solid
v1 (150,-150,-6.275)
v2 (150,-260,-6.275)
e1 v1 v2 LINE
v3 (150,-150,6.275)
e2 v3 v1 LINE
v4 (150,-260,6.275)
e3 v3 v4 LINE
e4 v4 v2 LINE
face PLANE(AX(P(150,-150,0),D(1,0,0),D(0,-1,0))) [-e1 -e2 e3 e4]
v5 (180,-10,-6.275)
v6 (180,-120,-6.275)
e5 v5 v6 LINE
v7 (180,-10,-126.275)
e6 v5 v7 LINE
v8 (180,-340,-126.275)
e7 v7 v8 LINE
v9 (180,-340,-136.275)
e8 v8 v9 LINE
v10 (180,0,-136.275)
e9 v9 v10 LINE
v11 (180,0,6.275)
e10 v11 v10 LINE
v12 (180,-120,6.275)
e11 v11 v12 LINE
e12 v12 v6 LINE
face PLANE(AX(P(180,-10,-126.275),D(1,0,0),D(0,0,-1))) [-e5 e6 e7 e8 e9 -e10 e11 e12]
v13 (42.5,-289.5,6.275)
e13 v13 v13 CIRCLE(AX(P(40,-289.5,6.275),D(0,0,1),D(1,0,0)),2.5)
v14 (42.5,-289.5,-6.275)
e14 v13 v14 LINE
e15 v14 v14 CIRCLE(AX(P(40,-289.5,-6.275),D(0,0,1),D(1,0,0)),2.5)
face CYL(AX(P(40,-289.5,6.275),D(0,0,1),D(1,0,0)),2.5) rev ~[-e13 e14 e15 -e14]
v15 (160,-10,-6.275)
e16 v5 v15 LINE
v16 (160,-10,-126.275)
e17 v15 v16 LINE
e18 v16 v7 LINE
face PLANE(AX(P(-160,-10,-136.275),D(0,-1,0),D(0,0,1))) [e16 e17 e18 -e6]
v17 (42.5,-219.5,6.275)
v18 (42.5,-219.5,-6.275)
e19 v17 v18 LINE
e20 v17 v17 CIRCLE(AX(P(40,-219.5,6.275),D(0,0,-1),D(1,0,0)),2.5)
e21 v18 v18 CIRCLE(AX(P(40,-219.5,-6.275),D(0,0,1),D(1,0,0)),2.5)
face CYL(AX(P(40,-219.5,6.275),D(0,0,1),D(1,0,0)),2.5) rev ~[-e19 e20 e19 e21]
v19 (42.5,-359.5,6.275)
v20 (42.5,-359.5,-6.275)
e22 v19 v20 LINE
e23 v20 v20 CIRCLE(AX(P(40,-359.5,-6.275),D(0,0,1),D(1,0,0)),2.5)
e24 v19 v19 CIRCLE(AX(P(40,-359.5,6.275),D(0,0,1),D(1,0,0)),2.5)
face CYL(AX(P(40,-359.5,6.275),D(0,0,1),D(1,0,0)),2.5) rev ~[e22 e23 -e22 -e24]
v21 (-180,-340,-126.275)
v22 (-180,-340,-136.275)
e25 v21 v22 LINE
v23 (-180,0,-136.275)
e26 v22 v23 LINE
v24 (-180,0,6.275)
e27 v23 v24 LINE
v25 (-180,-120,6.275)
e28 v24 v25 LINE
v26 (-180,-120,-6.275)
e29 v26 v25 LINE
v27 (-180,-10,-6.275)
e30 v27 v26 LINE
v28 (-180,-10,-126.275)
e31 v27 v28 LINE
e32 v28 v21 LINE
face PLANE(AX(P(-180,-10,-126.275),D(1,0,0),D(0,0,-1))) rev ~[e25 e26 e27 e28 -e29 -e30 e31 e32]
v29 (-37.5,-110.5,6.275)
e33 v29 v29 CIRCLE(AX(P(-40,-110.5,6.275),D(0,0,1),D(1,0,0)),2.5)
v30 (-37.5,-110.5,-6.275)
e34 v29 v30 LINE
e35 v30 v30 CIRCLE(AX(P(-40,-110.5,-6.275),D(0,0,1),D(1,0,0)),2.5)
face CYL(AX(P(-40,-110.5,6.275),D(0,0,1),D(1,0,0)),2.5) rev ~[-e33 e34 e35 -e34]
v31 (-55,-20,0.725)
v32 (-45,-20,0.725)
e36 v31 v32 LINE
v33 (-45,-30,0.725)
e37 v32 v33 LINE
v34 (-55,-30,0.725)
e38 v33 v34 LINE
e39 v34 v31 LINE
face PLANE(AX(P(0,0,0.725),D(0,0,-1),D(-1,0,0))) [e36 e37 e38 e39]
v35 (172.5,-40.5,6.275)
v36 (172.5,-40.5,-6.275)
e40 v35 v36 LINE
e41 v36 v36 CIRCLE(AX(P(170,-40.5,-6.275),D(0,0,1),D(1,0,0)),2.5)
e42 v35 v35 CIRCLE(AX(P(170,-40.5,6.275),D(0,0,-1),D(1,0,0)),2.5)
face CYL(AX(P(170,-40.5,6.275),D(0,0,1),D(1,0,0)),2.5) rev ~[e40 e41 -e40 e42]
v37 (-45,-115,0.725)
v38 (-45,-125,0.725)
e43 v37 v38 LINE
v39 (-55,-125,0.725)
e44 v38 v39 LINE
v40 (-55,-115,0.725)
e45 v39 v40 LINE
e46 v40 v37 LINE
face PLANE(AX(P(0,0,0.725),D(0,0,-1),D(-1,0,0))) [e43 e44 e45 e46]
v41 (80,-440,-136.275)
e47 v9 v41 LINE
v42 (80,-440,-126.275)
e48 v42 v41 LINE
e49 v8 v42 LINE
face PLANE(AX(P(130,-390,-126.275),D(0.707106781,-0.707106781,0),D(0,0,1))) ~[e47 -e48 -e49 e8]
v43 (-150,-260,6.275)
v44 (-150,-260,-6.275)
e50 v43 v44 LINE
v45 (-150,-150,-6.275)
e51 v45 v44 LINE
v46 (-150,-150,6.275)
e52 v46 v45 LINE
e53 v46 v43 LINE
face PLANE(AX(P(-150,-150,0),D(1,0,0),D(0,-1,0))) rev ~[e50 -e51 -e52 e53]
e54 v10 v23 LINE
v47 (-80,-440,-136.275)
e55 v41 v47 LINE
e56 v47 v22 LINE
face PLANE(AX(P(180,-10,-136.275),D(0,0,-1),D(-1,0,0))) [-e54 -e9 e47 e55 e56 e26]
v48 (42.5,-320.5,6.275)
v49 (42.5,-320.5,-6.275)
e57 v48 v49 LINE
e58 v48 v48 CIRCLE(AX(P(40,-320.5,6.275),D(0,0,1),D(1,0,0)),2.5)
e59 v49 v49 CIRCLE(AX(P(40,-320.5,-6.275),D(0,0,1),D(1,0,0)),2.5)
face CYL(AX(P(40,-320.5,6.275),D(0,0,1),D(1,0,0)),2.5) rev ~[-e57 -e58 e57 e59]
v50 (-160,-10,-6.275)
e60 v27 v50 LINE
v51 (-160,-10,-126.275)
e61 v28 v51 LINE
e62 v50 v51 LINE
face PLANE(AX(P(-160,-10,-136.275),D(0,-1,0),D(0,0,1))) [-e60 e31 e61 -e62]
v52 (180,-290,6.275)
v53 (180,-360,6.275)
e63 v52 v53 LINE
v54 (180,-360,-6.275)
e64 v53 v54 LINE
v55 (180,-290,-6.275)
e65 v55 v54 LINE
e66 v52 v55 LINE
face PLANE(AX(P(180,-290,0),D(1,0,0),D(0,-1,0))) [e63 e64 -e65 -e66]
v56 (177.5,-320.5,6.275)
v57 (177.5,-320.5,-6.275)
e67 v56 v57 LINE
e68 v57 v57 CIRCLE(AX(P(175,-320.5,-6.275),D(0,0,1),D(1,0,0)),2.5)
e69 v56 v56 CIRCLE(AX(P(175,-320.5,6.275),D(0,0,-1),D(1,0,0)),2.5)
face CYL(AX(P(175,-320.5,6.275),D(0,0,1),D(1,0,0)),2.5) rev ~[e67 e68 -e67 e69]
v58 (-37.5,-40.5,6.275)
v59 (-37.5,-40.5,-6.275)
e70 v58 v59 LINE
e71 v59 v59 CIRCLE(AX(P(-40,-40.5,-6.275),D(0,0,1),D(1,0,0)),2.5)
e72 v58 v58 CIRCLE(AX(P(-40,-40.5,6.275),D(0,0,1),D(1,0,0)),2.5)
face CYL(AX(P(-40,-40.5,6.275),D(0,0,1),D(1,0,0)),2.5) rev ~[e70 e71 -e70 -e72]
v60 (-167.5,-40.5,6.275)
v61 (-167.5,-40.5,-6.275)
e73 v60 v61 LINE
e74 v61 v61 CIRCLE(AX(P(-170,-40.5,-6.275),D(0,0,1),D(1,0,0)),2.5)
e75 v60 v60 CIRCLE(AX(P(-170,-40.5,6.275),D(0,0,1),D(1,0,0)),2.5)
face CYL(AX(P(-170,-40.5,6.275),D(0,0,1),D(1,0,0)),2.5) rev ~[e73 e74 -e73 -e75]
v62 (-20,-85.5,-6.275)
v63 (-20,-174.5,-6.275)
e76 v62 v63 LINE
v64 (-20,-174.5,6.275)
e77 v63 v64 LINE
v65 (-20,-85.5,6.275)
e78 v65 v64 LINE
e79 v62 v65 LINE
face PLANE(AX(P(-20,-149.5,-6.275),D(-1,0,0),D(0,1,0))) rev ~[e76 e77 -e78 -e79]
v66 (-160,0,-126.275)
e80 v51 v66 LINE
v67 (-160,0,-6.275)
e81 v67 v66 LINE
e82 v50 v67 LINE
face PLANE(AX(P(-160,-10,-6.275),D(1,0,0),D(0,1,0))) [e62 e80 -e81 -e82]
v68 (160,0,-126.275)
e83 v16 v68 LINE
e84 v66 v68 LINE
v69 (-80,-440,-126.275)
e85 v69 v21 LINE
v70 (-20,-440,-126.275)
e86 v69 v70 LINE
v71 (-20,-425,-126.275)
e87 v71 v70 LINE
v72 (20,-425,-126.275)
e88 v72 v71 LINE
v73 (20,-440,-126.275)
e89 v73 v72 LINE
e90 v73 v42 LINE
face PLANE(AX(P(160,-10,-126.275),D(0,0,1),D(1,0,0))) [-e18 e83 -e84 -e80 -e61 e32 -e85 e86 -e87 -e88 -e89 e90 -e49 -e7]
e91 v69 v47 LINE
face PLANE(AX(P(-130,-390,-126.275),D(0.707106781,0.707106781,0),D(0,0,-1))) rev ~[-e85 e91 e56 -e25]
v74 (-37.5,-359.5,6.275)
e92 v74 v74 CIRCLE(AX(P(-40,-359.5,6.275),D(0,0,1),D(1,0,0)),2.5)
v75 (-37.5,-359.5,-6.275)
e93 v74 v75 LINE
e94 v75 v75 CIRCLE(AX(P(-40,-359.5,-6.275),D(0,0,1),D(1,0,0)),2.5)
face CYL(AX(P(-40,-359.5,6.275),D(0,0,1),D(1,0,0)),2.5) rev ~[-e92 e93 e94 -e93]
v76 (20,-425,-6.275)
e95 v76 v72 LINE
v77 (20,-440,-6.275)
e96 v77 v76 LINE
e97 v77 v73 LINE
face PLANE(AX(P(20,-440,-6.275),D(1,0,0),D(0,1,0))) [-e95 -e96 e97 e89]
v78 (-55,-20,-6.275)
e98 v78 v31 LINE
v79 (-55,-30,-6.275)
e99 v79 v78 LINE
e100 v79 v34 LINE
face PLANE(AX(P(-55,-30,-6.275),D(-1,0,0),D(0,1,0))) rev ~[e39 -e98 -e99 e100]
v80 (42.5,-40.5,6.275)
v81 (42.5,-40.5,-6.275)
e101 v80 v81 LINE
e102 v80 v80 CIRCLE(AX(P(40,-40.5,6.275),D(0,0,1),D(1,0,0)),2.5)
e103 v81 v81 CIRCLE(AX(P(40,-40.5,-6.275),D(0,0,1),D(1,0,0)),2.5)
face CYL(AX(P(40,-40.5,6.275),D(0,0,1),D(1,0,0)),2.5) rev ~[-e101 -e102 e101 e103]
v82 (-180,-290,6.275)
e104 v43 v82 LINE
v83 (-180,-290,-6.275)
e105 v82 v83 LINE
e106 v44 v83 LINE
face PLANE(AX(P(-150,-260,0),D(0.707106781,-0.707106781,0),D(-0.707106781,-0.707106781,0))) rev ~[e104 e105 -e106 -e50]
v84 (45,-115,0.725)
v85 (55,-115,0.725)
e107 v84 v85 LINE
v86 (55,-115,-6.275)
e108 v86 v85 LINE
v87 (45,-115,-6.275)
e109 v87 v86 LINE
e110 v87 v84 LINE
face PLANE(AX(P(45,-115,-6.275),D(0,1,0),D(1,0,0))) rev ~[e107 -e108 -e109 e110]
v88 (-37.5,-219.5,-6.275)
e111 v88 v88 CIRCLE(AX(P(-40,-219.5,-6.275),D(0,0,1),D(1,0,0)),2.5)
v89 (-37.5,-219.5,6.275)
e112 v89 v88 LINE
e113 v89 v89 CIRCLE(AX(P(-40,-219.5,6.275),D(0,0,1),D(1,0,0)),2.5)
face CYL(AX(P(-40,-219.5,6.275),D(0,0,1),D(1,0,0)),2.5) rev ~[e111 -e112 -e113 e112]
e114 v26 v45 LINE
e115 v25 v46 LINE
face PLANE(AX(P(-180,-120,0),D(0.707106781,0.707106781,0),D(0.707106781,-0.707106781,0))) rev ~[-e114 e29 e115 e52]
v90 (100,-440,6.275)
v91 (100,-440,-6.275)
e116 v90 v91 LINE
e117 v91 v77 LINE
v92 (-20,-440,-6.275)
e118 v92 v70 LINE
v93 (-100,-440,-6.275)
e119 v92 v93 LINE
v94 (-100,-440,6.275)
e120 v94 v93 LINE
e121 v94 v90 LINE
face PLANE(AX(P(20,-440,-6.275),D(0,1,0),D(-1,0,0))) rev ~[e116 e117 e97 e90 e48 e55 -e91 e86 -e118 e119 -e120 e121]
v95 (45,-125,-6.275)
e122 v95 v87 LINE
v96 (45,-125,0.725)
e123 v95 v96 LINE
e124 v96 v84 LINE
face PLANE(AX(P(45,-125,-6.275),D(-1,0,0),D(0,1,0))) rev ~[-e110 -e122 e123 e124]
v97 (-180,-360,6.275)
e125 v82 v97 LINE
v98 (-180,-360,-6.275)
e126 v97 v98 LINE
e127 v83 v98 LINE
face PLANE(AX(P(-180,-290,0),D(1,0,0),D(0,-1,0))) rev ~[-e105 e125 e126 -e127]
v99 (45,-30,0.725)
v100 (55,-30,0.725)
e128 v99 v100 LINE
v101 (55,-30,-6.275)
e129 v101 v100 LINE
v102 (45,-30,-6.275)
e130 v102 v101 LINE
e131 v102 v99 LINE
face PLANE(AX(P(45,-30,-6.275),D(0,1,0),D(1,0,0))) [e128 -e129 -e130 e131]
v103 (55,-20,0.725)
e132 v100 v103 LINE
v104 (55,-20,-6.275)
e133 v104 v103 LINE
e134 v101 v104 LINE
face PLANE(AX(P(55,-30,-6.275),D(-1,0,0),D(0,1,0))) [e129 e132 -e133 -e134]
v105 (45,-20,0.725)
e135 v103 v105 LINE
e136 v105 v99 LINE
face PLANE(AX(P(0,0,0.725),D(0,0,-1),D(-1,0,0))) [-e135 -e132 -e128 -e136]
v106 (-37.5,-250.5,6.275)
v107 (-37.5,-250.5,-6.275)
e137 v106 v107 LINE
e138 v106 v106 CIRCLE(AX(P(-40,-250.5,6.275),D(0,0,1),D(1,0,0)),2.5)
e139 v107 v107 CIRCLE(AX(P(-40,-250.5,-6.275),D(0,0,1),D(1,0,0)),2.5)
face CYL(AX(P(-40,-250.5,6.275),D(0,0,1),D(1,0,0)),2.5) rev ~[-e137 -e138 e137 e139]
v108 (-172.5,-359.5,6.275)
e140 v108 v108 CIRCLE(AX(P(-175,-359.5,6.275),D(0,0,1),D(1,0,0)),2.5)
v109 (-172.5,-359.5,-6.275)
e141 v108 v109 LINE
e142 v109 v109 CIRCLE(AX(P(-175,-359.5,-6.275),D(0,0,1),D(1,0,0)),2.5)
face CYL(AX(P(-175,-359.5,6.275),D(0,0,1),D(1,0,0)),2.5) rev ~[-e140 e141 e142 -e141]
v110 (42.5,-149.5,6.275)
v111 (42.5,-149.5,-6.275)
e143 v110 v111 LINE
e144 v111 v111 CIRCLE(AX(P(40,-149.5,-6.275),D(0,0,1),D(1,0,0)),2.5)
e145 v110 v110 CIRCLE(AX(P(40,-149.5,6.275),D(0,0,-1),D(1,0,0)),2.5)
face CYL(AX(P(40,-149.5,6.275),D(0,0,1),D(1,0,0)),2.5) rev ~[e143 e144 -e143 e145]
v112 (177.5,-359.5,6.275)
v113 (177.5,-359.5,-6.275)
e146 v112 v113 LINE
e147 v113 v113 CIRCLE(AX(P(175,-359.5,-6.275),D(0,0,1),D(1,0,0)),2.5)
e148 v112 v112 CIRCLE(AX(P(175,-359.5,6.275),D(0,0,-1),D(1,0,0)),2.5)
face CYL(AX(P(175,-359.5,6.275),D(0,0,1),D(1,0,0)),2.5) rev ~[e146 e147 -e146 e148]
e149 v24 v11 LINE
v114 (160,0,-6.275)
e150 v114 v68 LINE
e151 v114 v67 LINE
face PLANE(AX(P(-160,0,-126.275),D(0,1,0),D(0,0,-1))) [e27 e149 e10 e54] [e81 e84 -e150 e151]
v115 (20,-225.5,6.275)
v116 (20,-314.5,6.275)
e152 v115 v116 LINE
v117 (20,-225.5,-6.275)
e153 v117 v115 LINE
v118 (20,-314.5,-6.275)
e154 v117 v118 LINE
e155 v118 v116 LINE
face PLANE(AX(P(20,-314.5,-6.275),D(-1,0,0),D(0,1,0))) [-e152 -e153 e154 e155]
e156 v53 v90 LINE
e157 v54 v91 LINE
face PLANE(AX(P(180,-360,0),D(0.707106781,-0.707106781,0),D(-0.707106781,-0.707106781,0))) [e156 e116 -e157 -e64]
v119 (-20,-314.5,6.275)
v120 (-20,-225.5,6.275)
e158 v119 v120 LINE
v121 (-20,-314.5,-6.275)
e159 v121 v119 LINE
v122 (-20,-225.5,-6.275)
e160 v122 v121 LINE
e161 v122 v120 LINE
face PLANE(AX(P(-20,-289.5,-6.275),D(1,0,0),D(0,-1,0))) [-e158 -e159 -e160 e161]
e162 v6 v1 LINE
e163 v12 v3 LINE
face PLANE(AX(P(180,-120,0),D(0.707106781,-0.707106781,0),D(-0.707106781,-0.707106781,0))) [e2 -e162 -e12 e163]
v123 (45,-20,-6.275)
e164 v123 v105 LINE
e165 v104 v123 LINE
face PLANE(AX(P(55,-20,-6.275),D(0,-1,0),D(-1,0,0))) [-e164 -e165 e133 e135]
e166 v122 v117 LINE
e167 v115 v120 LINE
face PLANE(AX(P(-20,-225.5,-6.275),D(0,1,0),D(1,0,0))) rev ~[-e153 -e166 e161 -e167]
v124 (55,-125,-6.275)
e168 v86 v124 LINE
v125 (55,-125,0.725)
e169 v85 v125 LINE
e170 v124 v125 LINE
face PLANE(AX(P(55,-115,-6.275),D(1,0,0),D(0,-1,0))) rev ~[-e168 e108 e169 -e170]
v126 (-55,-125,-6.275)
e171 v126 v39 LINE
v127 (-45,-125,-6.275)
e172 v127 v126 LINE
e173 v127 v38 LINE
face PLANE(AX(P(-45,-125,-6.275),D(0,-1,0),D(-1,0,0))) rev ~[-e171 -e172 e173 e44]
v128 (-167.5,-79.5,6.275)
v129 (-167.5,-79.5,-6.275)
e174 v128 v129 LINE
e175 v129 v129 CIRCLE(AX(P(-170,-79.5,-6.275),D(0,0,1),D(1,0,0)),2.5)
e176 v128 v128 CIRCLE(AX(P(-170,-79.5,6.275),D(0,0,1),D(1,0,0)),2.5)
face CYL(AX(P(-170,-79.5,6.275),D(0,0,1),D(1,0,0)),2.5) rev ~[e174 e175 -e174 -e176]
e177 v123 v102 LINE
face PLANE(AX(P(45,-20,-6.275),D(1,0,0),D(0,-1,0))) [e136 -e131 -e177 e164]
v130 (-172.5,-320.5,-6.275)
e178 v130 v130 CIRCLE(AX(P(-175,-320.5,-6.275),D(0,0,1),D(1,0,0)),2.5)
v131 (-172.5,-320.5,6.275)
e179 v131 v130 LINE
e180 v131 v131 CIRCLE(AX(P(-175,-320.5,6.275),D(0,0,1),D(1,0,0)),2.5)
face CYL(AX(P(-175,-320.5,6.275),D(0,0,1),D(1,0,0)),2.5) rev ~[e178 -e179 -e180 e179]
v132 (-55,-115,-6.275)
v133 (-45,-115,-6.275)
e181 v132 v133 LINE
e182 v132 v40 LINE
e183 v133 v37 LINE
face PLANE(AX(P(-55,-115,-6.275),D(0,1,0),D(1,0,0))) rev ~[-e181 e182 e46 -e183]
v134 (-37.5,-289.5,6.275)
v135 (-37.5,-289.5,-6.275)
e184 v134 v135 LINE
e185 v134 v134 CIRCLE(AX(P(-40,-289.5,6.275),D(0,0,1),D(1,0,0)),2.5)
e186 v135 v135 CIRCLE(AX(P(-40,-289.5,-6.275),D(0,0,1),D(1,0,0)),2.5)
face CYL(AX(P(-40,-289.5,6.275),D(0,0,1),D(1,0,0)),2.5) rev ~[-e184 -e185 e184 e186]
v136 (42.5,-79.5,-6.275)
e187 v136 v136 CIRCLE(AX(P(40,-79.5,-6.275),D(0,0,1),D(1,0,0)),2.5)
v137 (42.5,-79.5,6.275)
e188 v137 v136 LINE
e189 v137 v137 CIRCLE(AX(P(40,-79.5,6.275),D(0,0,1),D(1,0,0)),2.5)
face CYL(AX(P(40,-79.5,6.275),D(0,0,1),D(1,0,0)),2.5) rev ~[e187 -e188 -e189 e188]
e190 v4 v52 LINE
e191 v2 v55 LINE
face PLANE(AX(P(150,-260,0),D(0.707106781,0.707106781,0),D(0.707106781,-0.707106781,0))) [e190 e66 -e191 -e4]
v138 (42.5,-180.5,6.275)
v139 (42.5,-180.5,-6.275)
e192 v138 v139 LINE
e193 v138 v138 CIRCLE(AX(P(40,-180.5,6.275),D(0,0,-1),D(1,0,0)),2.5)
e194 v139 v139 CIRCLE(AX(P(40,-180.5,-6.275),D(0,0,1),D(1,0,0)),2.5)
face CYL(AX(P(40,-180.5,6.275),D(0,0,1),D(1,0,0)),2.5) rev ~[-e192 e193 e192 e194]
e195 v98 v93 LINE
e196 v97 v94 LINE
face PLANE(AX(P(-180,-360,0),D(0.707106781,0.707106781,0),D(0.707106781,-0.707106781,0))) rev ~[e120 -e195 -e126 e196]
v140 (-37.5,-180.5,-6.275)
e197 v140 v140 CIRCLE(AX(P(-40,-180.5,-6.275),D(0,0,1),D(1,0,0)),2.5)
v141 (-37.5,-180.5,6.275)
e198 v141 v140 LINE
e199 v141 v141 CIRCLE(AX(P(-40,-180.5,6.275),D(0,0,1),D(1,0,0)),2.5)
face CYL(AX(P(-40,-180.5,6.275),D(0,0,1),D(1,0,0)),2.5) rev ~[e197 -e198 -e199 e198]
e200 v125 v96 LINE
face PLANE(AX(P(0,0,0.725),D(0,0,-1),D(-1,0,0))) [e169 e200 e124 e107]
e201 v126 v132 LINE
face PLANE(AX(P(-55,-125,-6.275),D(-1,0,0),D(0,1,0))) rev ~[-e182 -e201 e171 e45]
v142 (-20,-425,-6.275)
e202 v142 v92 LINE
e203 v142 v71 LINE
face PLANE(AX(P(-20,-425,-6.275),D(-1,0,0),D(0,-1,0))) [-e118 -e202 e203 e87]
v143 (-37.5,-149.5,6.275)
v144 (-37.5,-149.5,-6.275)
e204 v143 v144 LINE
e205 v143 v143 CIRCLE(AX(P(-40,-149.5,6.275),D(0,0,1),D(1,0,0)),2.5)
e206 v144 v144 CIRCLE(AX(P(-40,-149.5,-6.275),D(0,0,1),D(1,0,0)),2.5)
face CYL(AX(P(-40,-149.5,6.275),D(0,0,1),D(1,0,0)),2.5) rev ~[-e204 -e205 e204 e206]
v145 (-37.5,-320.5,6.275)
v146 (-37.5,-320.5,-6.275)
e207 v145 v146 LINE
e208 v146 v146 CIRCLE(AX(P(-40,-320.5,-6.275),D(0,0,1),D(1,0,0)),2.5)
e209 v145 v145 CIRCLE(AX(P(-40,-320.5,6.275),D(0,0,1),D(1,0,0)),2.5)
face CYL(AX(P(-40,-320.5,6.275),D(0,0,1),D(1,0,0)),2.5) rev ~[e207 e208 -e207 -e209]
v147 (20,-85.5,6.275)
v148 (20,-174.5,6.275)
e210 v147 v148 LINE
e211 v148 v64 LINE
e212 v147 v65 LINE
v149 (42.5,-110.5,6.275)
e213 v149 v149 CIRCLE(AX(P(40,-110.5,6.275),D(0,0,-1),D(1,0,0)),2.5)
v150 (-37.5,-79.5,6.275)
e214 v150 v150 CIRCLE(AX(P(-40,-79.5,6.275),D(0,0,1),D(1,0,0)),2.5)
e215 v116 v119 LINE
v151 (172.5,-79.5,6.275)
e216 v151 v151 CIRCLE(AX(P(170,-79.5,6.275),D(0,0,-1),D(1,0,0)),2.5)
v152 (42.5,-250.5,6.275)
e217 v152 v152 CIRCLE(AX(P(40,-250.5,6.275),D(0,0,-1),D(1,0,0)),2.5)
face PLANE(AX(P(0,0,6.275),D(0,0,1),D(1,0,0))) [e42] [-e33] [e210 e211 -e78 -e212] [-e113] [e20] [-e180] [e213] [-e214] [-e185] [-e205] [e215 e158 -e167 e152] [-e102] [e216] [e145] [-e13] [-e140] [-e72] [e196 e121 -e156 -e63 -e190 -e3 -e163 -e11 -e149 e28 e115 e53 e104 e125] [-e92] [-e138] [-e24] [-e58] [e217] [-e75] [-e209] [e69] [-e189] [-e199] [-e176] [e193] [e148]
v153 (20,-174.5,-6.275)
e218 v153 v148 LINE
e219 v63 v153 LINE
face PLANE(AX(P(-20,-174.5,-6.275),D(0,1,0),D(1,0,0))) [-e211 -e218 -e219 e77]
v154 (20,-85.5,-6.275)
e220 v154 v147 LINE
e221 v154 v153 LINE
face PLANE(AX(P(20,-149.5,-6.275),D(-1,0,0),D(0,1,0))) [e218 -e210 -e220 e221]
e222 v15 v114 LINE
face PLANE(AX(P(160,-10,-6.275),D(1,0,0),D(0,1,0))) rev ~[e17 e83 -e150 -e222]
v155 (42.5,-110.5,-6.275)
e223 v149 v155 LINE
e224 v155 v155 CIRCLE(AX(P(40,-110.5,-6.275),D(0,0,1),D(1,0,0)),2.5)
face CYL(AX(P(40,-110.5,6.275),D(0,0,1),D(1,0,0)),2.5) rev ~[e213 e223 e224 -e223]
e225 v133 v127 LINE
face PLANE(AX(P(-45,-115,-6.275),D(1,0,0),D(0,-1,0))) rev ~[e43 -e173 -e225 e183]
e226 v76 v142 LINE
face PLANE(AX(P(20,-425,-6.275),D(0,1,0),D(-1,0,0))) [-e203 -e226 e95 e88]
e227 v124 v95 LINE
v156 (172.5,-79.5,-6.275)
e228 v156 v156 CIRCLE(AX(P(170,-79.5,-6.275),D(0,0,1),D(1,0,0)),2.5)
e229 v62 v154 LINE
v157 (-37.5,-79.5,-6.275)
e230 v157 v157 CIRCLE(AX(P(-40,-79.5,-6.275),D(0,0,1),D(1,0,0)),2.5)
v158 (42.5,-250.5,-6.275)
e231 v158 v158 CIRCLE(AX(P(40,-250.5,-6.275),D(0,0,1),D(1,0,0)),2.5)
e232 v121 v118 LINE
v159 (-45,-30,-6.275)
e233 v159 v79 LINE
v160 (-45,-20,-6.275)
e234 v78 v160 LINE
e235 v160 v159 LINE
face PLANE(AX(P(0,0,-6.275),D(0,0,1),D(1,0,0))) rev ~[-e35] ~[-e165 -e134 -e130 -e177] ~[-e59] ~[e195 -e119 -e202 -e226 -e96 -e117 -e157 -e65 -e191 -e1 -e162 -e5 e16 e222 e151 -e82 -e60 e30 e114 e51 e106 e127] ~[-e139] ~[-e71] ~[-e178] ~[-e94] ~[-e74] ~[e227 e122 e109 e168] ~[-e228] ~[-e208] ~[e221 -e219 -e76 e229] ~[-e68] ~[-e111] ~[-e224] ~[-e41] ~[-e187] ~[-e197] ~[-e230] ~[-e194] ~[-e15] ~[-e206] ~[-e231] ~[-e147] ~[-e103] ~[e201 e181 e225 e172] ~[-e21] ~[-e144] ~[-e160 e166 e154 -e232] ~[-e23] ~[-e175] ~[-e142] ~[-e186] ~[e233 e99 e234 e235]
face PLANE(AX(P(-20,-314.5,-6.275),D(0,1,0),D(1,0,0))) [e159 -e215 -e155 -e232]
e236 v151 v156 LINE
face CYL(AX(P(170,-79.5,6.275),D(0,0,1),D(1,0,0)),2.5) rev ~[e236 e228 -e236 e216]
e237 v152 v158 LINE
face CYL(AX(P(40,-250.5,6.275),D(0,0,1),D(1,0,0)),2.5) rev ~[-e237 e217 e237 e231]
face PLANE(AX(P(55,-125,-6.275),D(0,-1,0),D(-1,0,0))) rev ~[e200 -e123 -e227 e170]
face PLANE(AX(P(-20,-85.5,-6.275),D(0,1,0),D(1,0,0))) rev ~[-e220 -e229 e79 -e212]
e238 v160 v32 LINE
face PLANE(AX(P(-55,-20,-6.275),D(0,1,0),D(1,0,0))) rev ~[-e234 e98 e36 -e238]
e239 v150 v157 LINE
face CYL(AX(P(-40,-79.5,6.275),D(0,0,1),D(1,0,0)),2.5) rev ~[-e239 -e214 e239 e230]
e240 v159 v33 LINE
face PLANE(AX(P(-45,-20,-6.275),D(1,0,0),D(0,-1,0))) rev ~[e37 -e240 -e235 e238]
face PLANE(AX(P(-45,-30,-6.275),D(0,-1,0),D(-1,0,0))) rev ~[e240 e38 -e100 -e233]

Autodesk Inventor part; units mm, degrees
ref_plane "YZ Plane" through (0, 0, 0) normal (1, 0, 0) x (0, 1, 0)
ref_plane "XZ Plane" through (0, 0, 0) normal (0, 1, 0) x (-1, 0, 0)
ref_plane "XY Plane" through (0, 0, 0) normal (0, 0, 1) x (1, 0, 0)
sketch "Boceto1" plane through (0, 0, 0) normal (0, 0, 1) x (1, 0, 0)
  line L0 (0, 0) -> (-180, 0)
  line L1 (-180, 0) -> (-180, -120)
  line L2 (-180, -120) -> (-150, -150)
  line L3 (-150, -150) -> (-150, -260)
  line L4 (-150, -260) -> (-180, -290)
  line L5 (-180, -290) -> (-180, -360)
  line L6 (-180, -360) -> (-100, -440)
  line L7 (-100, -440) -> (0, -440)
  line L8 (0, -440) -> (0, 0) construction
  line L9 (0, 0) -> (180, 0)
  line L10 (180, 0) -> (180, -120)
  line L11 (180, -120) -> (150, -150)
  line L12 (150, -150) -> (150, -260)
  line L13 (150, -260) -> (180, -290)
  line L14 (180, -290) -> (180, -360)
  line L15 (180, -360) -> (100, -440)
  line L16 (100, -440) -> (0, -440)
  dimension "d0" = 120
  dimension "d1" = 70
  dimension "d2" = 110
  dimension "d3" = 180
  dimension "d8" = 100
  dimension "d9" = 80
  dimension "d13" = 150
  dimension "d17" = 80
  dimension "d18" = 30
  dimension "d19" = 30
extrude "Extrusión1" add sketch "Boceto1" along normal mid plane 12.55
sketch "Boceto2" plane through (0, 0, 6.275) normal (0, 0, 1) x (1, 0, 0)
  line L0 (0, 0) -> (0, -440)
  line L1 (-100, -440) -> (100, -440) projected
  line L2 (180, 0) -> (180, -120) projected
  line L3 (180, -120) -> (-179.9429, -120)
  line L4 (180, -120) -> (150, -150) projected
  line L5 (180, -120) -> (180, -60)
  line L6 (180, -60) -> (0, -60)
  line L7 (0, -60) -> (15, -60)
  line L8 (15, -60) -> (-15, -60)
  line L9 (180, -60) -> (170, -60)
  line L10 (170, -60) -> (170, -79.5)
  line L11 (170, -79.5) -> (170, -40.5)
  circle A0 centre (170, -40.5) radius 2.5
  circle A1 centre (170, -79.5) radius 2.5
  circle A2 centre (-170, -40.5) radius 2.5
  circle A3 centre (-170, -79.5) radius 2.5
  dimension "d20" = 60
  dimension "d22" = 30
  dimension "d23" = 10
  dimension "d25" = 39
  dimension "d26" = 5
extrude "Extrusión2" cut sketch "Boceto2" against normal blind 14.75 contours A1 | A0 | A2 | A3
sketch "Boceto3" plane through (0, 0, 6.275) normal (0, 0, 1) x (1, 0, 0)
  circle A0 centre (170, -40.5) radius 2.5 projected
  line L0 (170, -40.5) -> (170, -60)
  line L1 (170, -60) -> (0, -60)
  line L2 (0, -60) -> (0, -130)
  line L3 (0, -130) -> (40, -130)
  line L4 (40, -130) -> (-40, -130)
  line L5 (40, -130) -> (40, -110.5)
  circle A1 centre (40, -110.5) radius 2.5
  circle A2 centre (40, -149.5) radius 2.5
  circle A3 centre (-40, -110.5) radius 2.5
  circle A4 centre (-40, -149.5) radius 2.5
  line L6 (40, -130) -> (40, -200)
  line L7 (40, -200) -> (40, -165)
  line L8 (40, -165) -> (-88.7042, -165)
  circle A5 centre (40, -219.5) radius 2.5
  circle A6 centre (40, -180.5) radius 2.5
  circle A7 centre (-40, -219.5) radius 2.5
  circle A8 centre (-40, -180.5) radius 2.5
  line L9 (40, -180.5) -> (40, -200)
  line L10 (40, -200) -> (40, -270)
  line L11 (40, -270) -> (-42.5, -270)
  line L12 (40, -270) -> (40, -235)
  line L13 (40, -235) -> (-24.3521, -235)
  circle A9 centre (40, -359.5) radius 2.5
  circle A10 centre (40, -320.5) radius 2.5
  circle A11 centre (-40, -359.5) radius 2.5
  circle A12 centre (-40, -320.5) radius 2.5
  circle A13 centre (40, -250.5) radius 2.5
  circle A14 centre (40, -289.5) radius 2.5
  circle A15 centre (-40, -250.5) radius 2.5
  circle A16 centre (-40, -289.5) radius 2.5
  line L14 (40, -165) -> (40, -95)
  line L15 (40, -95) -> (-4.3592, -95)
  circle A17 centre (40, -79.5) radius 2.5
  circle A18 centre (40, -40.5) radius 2.5
  circle A19 centre (-40, -79.5) radius 2.5
  circle A20 centre (-40, -40.5) radius 2.5
  point P0 (0, 0)
  dimension "d29" = 19.5
  dimension "d30" = 70
  dimension "d31" = 40
  dimension "d32" = 80
  dimension "d33" = 19.5
  dimension "d34" = 5
  dimension "d37" = 70
  dimension "d38" = 70
  dimension "d39" = 35
  dimension "d46" = 70
extrude "Extrusión3" cut sketch "Boceto3" against normal blind 14.75 contours A13 L10 | L10 A13 | A5 L10 | L10 A5 | A6 L6 | L6 A6 | A2 L6 | L6 A2 | L14 L5 A1 | A1 L5 L14 | A3 | A4 | A7 | A8 | A9 | A10 | A11 | A12 | A14 | A15 | A16 | A17 | A18 | A19 | A20
sketch "Boceto4" plane through (0, 0, 6.275) normal (0, 0, 1) x (1, 0, 0)
  circle A0 centre (40, -320.5) radius 2.5 projected
  line L0 (40, -320.5) -> (180, -320.5)
  line L1 (180, -360) -> (180, -290) projected
  line L2 (180, -320.5) -> (175, -320.5)
  line L3 (175, -320.5) -> (175, -359.5)
  circle A1 centre (175, -320.5) radius 2.5
  circle A2 centre (175, -359.5) radius 2.5
  line L4 (-100, -440) -> (100, -440) projected
  line L5 (0, -440) -> (0, 0)
  circle A3 centre (-175, -320.5) radius 2.5
  circle A4 centre (-175, -359.5) radius 2.5
  dimension "d40" = 5
  dimension "d41" = 39
  dimension "d42" = 5
  dimension "d43" = 5
extrude "Extrusión4" cut sketch "Boceto4" against normal blind 14.75 contours A2 | A1 L0 | L0 L3 A1 | L0 A1 L3 | A3 | A4
sketch "Boceto6" plane through (0, 0, -6.275) normal (0, 0, -1) x (-1, 0, 0)
  circle A0 centre (40, -289.5) radius 2.5 projected
  circle A1 centre (-40, -289.5) radius 2.5 projected
  line L0 (40, -289.5) -> (-40, -289.5)
  circle A2 centre (-40, -250.5) radius 2.5 projected
  line L1 (-40, -289.5) -> (-40, -250.5)
  circle A3 centre (40, -250.5) radius 2.5 projected
  line L2 (-40, -250.5) -> (40, -250.5)
  line L3 (40, -250.5) -> (40, -289.5)
  line L4 (0, -289.5) -> (20, -289.5)
  line L5 (20, -289.5) -> (20, -250.5)
  line L6 (20, -250.5) -> (-20, -250.5)
  line L7 (-20, -250.5) -> (-20, -289.5)
  line L8 (20, -289.5) -> (20, -314.5)
  line L9 (20, -314.5) -> (-20, -314.5)
  line L10 (-20, -314.5) -> (-20, -289.5)
  line L11 (20, -250.5) -> (20, -225.5)
  line L12 (20, -225.5) -> (-20, -225.5)
  line L13 (-20, -225.5) -> (-20, -250.5)
  point P0 (0, 0)
  dimension "d56" = 40
  dimension "d57" = 25
  dimension "d58" = 25
extrude "Extrusión6" cut sketch "Boceto6" against normal blind 14.75 contours L8 L9 L10 L0 | L0 L7 L2 L5 | L2 L13 L12 L11
sketch "Boceto7" plane through (0, 0, -6.275) normal (0, 0, -1) x (-1, 0, 0)
  circle A0 centre (40, -110.5) radius 2.5 projected
  circle A1 centre (-40, -110.5) radius 2.5 projected
  line L0 (40, -110.5) -> (-40, -110.5)
  circle A2 centre (-40, -149.5) radius 2.5 projected
  line L1 (-40, -110.5) -> (-40, -149.5)
  line L2 (-40, -149.5) -> (40, -149.5)
  line L3 (40, -149.5) -> (40, -110.5)
  line L4 (0, -149.5) -> (-20, -149.5)
  line L5 (-20, -149.5) -> (20, -149.5)
  line L6 (20, -149.5) -> (20, -110.5)
  line L7 (20, -149.5) -> (20, -174.5)
  line L8 (20, -174.5) -> (-20, -174.5)
  line L9 (-20, -174.5) -> (-20, -149.5)
  line L10 (20, -110.5) -> (20, -85.5)
  line L11 (20, -85.5) -> (-20, -85.5)
  line L12 (-20, -85.5) -> (-20, -110.5)
  line L13 (-20, -149.5) -> (-20, -110.5)
  point P0 (0, 0)
  dimension "d63" = 25
  dimension "d64" = 40
  dimension "d65" = 25
  dimension "d66" = 40
extrude "Extrusión7" cut sketch "Boceto7" against normal blind 14.75 contours L6 L2 L13 L0 | L0 L12 L11 L10 | L7 L8 L9 L2
sketch "Boceto8" plane through (0, 0, -6.275) normal (0, 0, -1) x (-1, 0, 0)
  line L0 (0, 0) -> (0, -20)
  line L1 (0, -20) -> (-45, -20)
  line L2 (-45, -20) -> (45, -20)
  line L3 (45, -20) -> (45, -30)
  line L4 (45, -30) -> (55, -30)
  line L5 (55, -30) -> (55, -20)
  line L6 (55, -20) -> (45, -20)
  line L7 (-45, -20) -> (-45, -30)
  line L8 (-45, -30) -> (-55, -30)
  line L9 (-55, -30) -> (-55, -20)
  line L10 (-55, -20) -> (-45, -20)
  line L11 (55, -30) -> (55, -115)
  line L12 (55, -115) -> (45, -115)
  line L13 (45, -115) -> (45, -125)
  line L14 (45, -125) -> (55, -125)
  line L15 (55, -125) -> (55, -115)
  line L16 (-45, -30) -> (-45, -115)
  line L17 (-45, -115) -> (-55, -115)
  line L18 (-55, -115) -> (-55, -125)
  line L19 (-55, -125) -> (-45, -125)
  line L20 (-45, -125) -> (-45, -115)
  dimension "d69" = 20
  dimension "d70" = 45
  dimension "d71" = 90
  dimension "d72" = 10
  dimension "d73" = 10
  dimension "d74" = 10
  dimension "d75" = 10
  dimension "d76" = 10
  dimension "d77" = 10
  dimension "d78" = 85
  dimension "d79" = 10
  dimension "d80" = 10
  dimension "d81" = 10
  dimension "d82" = 85
  dimension "d83" = 10
  dimension "d84" = 10
  dimension "d85" = 10
extrude "Extrusión8" cut sketch "Boceto8" against normal blind 7
sketch "Boceto9" plane through (0, 0, -6.275) normal (0, 0, -1) x (-1, 0, 0)
  line L0 (180, -120) -> (180, 0) projected
  line L1 (180, 0) -> (180, -10)
  line L2 (180, -10) -> (160, -10)
  line L3 (160, -10) -> (160, 0)
  line L4 (-180, 0) -> (180, 0) projected
  line L5 (-180, 0) -> (-180, -10)
  line L6 (-180, 0) -> (-180, -120) projected
  line L7 (-180, -10) -> (-160, -10)
  line L8 (-160, -10) -> (-160, 0)
  line L9 (-160, 0) -> (-180, 0)
  line L10 (160, 0) -> (180, 0)
  point P0 (0, 0)
  dimension "d88" = 10
  dimension "d89" = 20
  dimension "d90" = 10
  dimension "d91" = 20
extrude "Extrusión9" add sketch "Boceto9" along normal blind 130
sketch "Boceto10" plane through (-160, -10, -6.275) normal (1, 0, 0) x (0, 0, -1)
  line L0 (0, 10) -> (130, 10) projected
  line L1 (130, 10) -> (130, 0) projected
  line L2 (130, 10) -> (130, 0)
  line L3 (130, 0) -> (120, 0)
  line L4 (0, 0) -> (130, 0) projected
  line L5 (120, 0) -> (120, 10)
  line L6 (120, 10) -> (130, 10)
  point P0 (-6.275, 10)
  dimension "d94" = 10
  dimension "d95" = 10
extrude "Extrusión10" add sketch "Boceto10" along normal blind 320
sketch "Boceto11" plane through (160, -10, -6.275) normal (0, -1, 0) x (1, 0, 0)
  line L0 (0, 0) -> (0, -120) projected
  line L1 (0, -120) -> (20, -120)
  line L2 (20, 0) -> (20, -130) projected
  line L3 (-340, 0) -> (-340, -130) projected
  line L4 (-320, 0) -> (-320, -120) projected
  line L5 (-340, -120) -> (-320, -120)
  line L6 (20, -130) -> (-340, -130)
  line L7 (-320, -120) -> (0, -120) projected
  line L8 (-340, -120) -> (0, -120)
  line L9 (0, -120) -> (20, -120)
  point P0 (-160, 6.275)
extrude "Extrusión11" add sketch "Boceto11" along normal blind 430
chamfer "Chaflán1" distance 100 angle 45 2 edges at (180, -440, -131.275) (-180, -440, -131.275)
sketch "Boceto12" plane through (0, 0, -6.275) normal (0, 0, -1) x (-1, 0, 0)
  line L0 (-100, -440) -> (100, -440) projected
  line L1 (0, -440) -> (20, -440)
  line L2 (20, -440) -> (-20, -440)
  line L3 (-20, -440) -> (-20, -425)
  line L4 (-20, -425) -> (20, -425)
  line L5 (20, -425) -> (20, -440)
  point P0 (0, 0)
  dimension "d103" = 20
  dimension "d104" = 40
  dimension "d105" = 15
  dimension "d106" = 40
extrude "Extrusión12" add sketch "Boceto12" along normal blind 125
properties part number "BaseCarro" material "Balsa"
